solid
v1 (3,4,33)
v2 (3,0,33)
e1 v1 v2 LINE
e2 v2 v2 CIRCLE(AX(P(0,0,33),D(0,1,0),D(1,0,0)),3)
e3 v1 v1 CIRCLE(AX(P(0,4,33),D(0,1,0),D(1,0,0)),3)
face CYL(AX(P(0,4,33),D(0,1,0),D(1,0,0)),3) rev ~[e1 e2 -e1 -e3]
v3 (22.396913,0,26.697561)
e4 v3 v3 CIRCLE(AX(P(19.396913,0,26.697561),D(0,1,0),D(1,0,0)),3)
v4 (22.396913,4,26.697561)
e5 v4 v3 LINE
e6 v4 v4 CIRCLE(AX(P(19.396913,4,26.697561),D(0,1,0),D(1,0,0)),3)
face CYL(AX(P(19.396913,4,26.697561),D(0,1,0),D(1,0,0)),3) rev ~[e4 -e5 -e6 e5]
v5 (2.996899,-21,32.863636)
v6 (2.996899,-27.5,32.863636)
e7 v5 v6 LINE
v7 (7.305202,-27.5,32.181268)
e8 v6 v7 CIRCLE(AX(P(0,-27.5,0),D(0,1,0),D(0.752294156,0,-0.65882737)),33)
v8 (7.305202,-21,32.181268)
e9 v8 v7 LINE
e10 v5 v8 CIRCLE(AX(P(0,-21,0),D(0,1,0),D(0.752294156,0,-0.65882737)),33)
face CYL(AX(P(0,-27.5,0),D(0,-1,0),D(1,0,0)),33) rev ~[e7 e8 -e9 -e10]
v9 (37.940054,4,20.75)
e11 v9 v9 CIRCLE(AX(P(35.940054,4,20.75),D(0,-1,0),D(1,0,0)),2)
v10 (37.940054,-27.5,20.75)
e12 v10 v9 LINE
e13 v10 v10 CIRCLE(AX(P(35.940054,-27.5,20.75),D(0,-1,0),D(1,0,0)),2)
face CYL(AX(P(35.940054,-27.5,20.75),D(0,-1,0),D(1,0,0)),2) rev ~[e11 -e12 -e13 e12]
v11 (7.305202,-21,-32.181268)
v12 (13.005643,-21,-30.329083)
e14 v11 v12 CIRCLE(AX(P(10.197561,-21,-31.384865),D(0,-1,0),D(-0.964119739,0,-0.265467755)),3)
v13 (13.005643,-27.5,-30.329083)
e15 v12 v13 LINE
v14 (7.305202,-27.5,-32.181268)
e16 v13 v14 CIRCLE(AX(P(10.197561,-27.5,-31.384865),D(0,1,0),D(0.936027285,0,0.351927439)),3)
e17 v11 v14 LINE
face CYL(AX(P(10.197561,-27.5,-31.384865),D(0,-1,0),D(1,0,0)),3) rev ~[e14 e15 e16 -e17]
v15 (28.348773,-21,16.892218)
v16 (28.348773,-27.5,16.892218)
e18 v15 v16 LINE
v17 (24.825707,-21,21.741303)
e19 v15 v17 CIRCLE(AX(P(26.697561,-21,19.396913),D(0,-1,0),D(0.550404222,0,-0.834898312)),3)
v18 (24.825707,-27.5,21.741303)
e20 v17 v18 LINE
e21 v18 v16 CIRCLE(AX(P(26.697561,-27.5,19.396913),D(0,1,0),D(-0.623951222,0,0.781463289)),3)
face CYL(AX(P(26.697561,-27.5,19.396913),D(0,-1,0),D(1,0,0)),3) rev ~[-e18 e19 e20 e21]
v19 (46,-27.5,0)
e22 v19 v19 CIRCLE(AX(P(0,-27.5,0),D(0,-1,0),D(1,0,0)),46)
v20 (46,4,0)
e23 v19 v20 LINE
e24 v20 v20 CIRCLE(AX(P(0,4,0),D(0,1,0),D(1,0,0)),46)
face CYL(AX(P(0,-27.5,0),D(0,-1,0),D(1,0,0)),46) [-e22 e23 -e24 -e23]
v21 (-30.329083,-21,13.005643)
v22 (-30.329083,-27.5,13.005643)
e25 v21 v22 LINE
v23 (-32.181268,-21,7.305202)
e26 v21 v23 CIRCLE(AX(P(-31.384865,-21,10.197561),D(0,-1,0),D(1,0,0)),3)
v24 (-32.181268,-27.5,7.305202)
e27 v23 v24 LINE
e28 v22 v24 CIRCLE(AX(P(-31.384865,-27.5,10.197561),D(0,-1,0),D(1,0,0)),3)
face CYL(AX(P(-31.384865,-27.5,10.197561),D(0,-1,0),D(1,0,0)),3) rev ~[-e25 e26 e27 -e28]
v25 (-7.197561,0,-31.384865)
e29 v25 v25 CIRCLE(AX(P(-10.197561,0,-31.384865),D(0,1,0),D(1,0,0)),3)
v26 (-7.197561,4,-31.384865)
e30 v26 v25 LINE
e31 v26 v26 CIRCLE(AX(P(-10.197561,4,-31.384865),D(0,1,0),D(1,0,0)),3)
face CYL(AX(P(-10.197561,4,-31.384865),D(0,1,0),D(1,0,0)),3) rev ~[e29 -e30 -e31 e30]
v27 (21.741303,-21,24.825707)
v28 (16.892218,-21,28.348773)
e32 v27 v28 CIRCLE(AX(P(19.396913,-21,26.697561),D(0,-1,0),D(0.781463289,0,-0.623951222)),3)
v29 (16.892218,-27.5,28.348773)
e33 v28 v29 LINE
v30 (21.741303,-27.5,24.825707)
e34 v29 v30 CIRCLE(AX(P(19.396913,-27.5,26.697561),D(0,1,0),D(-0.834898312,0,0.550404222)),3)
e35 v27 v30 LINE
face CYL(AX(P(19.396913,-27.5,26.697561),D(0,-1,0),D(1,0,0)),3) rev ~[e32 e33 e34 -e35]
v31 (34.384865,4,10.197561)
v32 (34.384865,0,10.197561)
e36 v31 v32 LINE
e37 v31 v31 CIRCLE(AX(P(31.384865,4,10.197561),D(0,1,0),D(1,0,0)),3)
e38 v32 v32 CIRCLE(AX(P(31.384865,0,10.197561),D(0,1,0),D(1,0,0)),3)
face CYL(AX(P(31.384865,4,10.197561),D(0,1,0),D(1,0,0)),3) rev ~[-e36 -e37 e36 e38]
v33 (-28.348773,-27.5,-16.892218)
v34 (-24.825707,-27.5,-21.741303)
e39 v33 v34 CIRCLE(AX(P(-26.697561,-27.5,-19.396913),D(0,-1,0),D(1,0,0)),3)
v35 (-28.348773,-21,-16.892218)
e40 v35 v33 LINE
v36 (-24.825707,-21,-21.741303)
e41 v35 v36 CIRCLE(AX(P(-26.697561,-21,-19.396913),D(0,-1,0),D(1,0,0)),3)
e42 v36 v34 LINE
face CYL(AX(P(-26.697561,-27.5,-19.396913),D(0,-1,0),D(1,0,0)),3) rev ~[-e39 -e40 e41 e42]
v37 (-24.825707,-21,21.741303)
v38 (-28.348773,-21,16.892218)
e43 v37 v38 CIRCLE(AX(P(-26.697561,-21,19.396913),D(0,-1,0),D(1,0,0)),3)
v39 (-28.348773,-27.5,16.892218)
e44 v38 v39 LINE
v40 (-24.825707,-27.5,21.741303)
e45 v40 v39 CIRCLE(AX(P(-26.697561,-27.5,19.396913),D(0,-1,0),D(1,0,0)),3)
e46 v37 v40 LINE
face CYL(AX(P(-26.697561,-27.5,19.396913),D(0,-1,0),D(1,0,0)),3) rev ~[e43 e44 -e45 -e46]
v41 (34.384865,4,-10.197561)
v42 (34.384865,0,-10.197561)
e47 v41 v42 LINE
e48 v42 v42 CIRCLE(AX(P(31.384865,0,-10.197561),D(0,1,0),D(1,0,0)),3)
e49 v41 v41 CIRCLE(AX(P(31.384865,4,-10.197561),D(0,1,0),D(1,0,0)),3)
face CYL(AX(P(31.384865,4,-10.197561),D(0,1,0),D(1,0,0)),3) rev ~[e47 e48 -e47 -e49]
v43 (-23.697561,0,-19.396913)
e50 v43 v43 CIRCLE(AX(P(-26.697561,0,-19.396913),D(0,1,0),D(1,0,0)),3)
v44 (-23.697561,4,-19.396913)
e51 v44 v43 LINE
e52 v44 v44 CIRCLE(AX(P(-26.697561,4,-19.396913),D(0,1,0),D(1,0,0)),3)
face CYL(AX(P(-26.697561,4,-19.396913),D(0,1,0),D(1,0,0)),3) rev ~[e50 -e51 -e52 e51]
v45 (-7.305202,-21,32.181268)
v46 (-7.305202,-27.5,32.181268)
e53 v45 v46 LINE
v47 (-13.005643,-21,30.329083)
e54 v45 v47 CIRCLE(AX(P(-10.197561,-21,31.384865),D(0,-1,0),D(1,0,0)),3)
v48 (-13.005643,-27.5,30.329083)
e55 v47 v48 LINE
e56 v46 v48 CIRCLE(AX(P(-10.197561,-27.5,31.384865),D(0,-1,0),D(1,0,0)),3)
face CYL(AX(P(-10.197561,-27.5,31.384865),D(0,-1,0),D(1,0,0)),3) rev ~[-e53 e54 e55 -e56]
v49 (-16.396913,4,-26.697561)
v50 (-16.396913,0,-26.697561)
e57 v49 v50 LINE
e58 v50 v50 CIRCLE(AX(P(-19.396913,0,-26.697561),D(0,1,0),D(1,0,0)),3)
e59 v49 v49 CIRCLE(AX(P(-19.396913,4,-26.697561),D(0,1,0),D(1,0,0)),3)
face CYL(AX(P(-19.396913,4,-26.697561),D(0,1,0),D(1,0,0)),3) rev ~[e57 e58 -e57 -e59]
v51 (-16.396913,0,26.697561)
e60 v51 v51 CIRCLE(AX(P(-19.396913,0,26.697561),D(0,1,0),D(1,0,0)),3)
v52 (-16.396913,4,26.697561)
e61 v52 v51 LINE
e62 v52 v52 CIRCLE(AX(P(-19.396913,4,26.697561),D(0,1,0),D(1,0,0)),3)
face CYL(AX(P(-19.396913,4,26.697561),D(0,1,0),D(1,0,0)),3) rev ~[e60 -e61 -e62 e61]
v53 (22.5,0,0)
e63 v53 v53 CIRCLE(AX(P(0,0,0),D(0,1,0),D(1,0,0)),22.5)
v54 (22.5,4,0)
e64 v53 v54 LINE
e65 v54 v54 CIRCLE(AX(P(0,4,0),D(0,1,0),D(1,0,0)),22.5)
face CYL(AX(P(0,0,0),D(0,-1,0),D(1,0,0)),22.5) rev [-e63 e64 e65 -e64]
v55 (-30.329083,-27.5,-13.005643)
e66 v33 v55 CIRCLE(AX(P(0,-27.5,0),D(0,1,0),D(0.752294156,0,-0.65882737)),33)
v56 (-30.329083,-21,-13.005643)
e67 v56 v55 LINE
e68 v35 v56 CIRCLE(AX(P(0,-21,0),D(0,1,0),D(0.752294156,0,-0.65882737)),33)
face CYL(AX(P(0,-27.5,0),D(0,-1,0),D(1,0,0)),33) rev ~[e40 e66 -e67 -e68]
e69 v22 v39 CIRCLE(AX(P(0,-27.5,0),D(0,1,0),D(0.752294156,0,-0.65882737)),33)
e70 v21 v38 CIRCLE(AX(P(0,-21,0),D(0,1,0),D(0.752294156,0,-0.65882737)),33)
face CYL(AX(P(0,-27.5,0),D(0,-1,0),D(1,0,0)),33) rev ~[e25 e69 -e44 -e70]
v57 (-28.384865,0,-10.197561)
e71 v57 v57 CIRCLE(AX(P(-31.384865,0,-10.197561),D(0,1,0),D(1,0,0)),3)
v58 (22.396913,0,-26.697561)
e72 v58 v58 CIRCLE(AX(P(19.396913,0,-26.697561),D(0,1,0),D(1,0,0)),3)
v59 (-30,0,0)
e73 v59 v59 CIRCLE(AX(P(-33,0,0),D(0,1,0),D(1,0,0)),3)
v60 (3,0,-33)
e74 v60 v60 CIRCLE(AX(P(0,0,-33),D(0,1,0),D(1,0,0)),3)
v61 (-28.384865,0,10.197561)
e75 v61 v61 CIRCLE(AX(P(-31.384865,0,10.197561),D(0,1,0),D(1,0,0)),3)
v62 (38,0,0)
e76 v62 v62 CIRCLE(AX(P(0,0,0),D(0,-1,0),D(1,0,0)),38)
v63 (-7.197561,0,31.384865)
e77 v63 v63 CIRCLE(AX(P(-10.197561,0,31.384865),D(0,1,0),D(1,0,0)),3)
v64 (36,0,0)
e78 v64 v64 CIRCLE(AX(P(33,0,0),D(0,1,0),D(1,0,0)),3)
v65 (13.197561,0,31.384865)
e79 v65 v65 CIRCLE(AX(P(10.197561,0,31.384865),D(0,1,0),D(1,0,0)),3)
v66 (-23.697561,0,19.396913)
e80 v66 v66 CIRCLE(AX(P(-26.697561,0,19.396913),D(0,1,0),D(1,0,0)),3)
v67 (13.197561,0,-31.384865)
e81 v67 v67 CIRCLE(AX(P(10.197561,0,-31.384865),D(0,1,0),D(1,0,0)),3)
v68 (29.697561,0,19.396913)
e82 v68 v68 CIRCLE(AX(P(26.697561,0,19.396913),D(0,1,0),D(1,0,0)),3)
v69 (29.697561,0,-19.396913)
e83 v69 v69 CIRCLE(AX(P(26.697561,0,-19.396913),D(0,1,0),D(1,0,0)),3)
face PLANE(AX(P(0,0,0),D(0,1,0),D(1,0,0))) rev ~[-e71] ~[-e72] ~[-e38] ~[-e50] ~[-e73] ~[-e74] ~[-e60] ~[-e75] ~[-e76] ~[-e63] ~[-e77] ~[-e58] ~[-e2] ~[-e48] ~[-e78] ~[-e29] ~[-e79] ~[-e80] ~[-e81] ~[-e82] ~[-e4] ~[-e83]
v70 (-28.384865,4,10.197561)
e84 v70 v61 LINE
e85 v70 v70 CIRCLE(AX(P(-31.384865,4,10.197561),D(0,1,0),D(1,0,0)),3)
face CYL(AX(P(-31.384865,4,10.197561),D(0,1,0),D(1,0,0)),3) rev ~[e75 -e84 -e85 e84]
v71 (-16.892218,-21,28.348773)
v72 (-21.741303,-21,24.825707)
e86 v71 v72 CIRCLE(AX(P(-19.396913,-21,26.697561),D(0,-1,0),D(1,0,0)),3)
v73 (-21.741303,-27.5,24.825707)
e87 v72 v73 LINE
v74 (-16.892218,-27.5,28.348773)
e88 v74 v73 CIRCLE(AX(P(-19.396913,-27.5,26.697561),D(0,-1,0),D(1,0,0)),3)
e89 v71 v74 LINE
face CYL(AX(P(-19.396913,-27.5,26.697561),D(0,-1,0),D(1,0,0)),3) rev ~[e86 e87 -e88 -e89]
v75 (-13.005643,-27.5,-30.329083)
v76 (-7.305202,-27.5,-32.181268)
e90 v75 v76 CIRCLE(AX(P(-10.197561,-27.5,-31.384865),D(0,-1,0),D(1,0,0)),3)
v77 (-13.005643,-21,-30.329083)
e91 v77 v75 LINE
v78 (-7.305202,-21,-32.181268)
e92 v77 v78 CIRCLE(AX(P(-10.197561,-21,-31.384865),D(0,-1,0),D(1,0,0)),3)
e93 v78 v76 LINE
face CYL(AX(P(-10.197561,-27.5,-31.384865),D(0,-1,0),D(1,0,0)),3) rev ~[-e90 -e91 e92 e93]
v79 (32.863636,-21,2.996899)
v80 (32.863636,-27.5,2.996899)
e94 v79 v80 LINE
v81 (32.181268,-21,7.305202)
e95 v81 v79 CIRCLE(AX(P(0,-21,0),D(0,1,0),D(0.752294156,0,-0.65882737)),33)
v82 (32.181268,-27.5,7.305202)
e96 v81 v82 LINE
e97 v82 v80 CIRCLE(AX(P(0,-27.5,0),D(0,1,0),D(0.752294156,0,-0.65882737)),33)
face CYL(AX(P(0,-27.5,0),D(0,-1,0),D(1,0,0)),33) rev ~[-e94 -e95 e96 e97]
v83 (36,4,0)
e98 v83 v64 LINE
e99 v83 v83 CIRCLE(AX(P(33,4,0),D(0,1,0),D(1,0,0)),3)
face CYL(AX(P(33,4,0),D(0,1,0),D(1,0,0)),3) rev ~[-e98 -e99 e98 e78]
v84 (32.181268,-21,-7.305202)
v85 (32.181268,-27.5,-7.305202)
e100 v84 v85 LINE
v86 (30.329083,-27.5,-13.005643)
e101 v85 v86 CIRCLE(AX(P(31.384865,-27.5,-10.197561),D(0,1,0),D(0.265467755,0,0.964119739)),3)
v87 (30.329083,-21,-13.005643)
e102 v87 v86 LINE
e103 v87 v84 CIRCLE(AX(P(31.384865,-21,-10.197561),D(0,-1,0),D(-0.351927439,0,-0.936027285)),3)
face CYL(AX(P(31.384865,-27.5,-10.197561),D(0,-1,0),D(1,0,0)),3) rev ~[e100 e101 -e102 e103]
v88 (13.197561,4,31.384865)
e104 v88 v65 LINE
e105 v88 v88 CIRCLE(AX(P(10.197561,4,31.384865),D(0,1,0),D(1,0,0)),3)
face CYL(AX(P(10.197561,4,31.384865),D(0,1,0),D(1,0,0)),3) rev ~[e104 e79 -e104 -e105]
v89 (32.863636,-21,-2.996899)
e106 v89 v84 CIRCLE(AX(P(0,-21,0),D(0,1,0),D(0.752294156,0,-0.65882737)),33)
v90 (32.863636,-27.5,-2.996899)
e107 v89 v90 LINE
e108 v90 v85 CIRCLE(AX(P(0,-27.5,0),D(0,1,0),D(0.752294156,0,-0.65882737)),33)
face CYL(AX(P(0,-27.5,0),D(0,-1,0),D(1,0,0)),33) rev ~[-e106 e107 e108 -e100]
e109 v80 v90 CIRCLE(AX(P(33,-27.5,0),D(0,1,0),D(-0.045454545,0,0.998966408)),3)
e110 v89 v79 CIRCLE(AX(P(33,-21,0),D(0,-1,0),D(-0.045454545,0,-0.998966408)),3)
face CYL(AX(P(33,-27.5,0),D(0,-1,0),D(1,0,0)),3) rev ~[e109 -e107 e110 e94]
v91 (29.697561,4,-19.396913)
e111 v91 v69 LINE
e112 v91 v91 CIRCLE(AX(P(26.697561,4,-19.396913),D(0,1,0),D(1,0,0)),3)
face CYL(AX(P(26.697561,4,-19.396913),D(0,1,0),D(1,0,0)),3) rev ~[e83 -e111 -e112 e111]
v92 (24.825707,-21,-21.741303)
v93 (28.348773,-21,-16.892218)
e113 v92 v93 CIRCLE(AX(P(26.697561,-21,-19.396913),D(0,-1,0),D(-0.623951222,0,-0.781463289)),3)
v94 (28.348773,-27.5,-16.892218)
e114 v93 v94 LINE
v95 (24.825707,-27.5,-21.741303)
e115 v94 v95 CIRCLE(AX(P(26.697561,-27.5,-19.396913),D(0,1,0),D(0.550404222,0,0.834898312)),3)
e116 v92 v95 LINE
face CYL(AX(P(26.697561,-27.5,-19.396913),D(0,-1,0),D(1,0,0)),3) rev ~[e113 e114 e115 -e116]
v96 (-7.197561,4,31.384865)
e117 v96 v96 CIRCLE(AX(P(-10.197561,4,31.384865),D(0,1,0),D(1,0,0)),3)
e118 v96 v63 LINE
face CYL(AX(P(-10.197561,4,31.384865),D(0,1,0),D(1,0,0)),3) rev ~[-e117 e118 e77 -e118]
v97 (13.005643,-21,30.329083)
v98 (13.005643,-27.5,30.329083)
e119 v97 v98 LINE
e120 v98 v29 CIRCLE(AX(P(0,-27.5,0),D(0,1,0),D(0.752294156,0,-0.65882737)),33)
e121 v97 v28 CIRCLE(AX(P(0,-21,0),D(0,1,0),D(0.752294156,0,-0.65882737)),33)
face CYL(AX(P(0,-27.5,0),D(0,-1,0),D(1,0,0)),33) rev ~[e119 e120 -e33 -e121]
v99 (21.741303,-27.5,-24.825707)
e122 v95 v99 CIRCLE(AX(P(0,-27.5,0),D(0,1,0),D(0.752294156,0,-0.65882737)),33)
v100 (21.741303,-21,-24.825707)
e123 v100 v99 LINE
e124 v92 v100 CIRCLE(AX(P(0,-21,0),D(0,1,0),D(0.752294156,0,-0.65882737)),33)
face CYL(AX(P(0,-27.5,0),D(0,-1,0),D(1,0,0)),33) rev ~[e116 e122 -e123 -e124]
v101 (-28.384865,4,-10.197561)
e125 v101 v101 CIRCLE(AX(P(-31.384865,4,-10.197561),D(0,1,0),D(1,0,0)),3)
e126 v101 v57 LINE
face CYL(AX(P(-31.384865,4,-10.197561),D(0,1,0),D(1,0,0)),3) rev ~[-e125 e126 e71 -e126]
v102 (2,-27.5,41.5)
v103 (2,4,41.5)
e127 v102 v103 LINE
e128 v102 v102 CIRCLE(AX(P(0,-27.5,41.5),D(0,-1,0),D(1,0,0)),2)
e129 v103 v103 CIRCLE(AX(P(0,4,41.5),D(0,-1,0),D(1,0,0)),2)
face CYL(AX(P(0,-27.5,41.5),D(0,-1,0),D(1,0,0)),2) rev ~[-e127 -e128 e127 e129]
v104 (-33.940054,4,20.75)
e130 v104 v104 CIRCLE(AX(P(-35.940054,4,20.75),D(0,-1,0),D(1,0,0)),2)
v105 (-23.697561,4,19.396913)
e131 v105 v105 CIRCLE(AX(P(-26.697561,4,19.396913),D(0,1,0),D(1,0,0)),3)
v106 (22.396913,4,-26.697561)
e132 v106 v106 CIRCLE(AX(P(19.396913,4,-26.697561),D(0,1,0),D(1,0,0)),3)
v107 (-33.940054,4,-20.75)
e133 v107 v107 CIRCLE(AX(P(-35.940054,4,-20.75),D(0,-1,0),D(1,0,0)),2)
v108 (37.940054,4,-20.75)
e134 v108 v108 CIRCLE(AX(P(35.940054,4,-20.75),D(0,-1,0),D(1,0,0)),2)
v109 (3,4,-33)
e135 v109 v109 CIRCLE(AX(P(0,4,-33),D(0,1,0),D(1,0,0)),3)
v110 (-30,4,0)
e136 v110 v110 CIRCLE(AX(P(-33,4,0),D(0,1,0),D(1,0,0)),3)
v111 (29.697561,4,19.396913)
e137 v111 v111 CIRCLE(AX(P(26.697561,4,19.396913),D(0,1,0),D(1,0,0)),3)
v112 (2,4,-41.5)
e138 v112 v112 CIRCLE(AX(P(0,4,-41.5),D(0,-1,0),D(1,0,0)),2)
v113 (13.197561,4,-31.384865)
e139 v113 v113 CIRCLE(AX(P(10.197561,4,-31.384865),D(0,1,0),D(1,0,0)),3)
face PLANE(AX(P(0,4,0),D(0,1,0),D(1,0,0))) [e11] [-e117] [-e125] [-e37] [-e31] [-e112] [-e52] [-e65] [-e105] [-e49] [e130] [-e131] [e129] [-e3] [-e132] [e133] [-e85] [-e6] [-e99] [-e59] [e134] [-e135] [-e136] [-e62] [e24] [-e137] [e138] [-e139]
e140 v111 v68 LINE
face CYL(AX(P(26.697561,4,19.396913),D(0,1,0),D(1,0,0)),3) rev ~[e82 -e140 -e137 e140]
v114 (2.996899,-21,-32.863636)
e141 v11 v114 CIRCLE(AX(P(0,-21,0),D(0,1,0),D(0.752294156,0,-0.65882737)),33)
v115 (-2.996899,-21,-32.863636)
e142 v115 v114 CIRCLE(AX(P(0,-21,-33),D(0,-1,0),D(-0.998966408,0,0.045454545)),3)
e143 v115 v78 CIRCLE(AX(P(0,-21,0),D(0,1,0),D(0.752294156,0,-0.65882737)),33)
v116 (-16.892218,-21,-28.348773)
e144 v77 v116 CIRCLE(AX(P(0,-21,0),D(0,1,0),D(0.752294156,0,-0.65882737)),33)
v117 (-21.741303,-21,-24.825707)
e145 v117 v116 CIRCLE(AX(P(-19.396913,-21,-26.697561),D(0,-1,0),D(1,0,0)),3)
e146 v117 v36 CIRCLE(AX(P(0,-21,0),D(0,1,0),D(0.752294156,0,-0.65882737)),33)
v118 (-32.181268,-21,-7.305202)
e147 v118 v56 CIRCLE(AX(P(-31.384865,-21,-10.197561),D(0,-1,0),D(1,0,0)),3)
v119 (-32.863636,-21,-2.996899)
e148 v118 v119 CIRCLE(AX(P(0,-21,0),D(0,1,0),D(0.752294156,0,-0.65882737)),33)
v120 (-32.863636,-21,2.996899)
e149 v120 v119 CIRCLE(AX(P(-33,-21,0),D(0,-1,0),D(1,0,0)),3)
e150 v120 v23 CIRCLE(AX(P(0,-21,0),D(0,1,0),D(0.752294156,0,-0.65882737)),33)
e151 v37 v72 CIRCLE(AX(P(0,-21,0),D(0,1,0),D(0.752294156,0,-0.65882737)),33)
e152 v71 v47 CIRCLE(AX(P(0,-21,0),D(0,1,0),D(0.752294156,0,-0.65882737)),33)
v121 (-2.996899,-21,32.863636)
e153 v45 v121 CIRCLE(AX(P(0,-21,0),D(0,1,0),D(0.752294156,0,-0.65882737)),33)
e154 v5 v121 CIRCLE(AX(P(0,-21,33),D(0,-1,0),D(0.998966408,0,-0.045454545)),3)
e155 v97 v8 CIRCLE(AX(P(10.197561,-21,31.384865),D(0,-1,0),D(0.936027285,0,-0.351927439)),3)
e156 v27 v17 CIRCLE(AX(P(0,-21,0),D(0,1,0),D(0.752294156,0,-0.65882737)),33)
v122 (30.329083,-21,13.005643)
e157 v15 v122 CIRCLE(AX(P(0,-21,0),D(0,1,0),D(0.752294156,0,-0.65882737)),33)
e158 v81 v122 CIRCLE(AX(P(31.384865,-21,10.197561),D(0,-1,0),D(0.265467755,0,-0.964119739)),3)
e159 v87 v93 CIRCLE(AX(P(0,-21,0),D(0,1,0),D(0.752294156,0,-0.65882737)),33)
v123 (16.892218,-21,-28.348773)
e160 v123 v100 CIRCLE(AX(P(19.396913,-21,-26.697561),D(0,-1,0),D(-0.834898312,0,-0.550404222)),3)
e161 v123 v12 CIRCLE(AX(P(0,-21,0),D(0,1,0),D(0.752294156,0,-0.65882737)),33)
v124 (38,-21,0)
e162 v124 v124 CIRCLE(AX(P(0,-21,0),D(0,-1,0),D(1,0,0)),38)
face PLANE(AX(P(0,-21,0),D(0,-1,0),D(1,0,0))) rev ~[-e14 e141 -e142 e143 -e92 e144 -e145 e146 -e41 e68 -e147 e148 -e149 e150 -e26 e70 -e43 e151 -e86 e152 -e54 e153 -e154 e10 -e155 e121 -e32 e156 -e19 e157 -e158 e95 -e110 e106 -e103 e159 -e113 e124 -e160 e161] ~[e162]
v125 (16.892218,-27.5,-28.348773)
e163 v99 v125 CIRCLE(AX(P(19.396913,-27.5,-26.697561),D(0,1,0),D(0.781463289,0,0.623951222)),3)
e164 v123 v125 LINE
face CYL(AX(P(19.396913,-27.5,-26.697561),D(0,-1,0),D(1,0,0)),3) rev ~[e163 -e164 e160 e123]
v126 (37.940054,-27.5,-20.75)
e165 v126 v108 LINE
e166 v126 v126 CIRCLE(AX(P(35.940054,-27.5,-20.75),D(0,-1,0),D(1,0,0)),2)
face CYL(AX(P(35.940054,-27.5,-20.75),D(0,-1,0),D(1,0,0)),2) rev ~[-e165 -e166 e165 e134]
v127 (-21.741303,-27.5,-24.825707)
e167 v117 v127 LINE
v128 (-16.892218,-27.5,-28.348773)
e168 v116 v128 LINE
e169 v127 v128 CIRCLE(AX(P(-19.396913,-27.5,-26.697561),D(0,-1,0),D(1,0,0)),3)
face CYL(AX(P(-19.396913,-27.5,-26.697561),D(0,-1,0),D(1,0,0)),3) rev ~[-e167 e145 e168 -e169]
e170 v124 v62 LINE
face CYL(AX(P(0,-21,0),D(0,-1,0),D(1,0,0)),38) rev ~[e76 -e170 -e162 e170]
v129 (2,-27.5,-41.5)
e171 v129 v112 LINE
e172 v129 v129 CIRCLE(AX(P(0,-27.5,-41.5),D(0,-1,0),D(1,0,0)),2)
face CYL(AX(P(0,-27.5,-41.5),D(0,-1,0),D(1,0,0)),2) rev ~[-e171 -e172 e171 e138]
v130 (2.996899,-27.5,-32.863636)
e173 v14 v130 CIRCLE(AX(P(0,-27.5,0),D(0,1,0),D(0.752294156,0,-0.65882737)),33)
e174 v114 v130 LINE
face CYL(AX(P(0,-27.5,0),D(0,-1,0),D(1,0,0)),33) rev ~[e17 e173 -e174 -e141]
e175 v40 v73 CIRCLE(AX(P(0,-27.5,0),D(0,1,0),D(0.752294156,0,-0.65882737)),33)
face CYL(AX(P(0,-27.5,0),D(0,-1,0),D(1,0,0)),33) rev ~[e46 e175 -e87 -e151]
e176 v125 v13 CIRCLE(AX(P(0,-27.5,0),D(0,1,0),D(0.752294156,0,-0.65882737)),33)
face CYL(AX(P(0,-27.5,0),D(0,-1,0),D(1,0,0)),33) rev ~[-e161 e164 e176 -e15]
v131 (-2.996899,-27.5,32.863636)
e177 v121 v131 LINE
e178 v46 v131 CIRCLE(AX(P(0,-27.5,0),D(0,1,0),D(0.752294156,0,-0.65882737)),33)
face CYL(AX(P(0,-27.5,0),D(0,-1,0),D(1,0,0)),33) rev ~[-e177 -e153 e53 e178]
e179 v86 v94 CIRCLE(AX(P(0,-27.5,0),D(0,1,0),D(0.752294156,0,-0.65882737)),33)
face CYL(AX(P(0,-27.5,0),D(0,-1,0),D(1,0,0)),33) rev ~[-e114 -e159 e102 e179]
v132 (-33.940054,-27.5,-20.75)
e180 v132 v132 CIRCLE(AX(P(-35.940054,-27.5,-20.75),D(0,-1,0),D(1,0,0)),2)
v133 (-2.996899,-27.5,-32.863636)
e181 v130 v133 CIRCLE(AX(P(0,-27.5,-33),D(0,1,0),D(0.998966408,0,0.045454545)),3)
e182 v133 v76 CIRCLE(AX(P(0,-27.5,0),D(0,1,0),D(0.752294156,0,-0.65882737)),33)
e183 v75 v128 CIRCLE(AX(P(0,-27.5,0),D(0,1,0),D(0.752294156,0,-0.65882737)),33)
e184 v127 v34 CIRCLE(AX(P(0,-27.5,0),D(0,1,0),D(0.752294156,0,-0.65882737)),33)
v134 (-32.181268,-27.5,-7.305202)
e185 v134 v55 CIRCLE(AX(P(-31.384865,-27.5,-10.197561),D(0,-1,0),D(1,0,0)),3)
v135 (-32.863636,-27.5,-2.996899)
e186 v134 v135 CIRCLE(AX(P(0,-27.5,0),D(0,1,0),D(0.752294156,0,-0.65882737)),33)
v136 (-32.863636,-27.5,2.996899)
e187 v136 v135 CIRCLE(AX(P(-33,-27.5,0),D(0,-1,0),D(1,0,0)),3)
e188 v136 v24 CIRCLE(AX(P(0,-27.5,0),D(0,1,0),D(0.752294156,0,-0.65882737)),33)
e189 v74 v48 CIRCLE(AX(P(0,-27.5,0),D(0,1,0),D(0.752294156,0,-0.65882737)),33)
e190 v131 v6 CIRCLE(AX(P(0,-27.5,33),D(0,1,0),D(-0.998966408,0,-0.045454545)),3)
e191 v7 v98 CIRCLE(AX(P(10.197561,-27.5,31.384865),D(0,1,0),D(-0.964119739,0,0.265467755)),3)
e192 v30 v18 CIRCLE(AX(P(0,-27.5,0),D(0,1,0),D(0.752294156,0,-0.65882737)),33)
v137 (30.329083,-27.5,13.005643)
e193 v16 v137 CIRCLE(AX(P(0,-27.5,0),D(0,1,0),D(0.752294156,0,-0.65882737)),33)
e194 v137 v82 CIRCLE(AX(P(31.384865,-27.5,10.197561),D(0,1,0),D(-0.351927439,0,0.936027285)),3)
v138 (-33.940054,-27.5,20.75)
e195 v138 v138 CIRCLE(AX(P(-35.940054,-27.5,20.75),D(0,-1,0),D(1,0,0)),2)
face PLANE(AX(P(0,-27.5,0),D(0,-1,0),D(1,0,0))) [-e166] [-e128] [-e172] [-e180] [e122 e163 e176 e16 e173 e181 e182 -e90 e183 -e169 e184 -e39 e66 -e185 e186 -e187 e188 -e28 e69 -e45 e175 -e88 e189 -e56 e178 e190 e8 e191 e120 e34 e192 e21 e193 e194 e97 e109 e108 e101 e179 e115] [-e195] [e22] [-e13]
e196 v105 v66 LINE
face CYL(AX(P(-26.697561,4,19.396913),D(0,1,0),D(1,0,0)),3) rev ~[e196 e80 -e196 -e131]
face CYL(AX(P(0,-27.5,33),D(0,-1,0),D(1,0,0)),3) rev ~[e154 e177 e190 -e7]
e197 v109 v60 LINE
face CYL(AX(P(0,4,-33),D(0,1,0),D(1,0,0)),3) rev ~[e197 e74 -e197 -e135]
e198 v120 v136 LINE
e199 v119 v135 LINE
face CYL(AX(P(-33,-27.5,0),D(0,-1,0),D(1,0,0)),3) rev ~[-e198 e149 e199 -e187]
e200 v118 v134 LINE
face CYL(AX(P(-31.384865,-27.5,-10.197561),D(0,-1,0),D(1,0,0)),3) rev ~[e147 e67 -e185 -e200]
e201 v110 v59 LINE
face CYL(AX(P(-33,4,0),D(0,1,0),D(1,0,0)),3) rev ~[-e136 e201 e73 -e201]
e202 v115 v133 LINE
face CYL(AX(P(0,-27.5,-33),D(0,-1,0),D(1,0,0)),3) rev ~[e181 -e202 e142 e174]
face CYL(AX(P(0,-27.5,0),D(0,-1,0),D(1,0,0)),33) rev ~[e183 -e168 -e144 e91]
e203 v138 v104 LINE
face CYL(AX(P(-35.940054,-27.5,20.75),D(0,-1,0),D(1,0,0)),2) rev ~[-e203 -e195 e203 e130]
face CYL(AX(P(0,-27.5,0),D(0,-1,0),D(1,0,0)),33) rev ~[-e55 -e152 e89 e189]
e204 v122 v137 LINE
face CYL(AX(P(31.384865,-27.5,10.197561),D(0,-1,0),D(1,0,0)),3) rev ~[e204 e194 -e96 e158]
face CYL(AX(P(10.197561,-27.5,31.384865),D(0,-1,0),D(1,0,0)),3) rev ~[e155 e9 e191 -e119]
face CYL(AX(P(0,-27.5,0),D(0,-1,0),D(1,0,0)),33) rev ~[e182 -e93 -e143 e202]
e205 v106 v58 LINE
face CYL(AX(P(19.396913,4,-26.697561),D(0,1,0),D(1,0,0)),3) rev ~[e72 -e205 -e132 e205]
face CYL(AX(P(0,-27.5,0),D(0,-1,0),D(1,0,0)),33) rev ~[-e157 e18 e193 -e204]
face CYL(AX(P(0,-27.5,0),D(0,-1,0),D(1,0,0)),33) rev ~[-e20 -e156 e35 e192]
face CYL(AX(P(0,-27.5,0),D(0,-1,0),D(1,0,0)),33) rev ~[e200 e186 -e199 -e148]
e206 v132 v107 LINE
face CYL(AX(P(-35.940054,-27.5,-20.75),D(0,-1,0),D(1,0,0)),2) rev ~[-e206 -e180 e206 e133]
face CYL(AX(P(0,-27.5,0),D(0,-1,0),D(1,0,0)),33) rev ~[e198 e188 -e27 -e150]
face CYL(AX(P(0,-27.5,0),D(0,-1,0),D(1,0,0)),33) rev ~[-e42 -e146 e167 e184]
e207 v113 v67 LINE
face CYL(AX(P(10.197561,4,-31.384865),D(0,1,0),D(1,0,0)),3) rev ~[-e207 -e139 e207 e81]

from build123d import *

# Parameters (mm, degrees)
SKETCH1_R           = 46
SKETCH1_R_2         = 22.5
BOSS_EXTRUDE1_DEPTH = 4
CUT_EXTRUDE1_REACH  = 67.177
SKETCH2_R           = 3
BOSS_EXTRUDE2_START = 21
SKETCH3_R           = 46
SKETCH3_R_2         = 38
BOSS_EXTRUDE2_DEPTH = 21
BOSS_EXTRUDE3_START = 6.5
SKETCH4_R           = 46
SKETCH4_R_2         = 33
BOSS_EXTRUDE3_DEPTH = 6.5
CUT_EXTRUDE2_REACH  = 74.279
SKETCH5_R           = 3
SKETCH6_R           = 2
CUT_EXTRUDE3_DEPTH  = 73.278973429


with BuildPart() as part:
    # Sketch1 → Boss-Extrude1 (new body)
    with BuildSketch(Plane(origin=(0, 0, 0), x_dir=(1, 0, 0), z_dir=(0, 1, 0))):
        Circle(SKETCH1_R)
        Circle(SKETCH1_R_2, mode=Mode.SUBTRACT)
    extrude(amount=BOSS_EXTRUDE1_DEPTH)

    # Sketch2 → Cut-Extrude1 (cut, up to next)
    with BuildSketch(Plane(origin=(0, 4, 0), x_dir=(1, 0, 0), z_dir=(0, 1, 0)), mode=Mode.PRIVATE) as cut_extrude1_sk1:
        with Locations((33, 0)):
            Circle(SKETCH2_R)
    cut_extrude1_tool1 = extrude(cut_extrude1_sk1.sketch, amount=-CUT_EXTRUDE1_REACH, mode=Mode.PRIVATE) & part.part
    # Sketch2 → Cut-Extrude1 (cut, up to next)
    with BuildSketch(Plane(origin=(0, 4, 0), x_dir=(1, 0, 0), z_dir=(0, 1, 0)), mode=Mode.PRIVATE) as cut_extrude1_sk2:
        with Locations((31.384865038, -10.197560814)):
            Circle(SKETCH2_R)
    cut_extrude1_tool2 = extrude(cut_extrude1_sk2.sketch, amount=-CUT_EXTRUDE1_REACH, mode=Mode.PRIVATE) & part.part
    # Sketch2 → Cut-Extrude1 (cut, up to next)
    with BuildSketch(Plane(origin=(0, 4, 0), x_dir=(1, 0, 0), z_dir=(0, 1, 0)), mode=Mode.PRIVATE) as cut_extrude1_sk3:
        with Locations((26.697560814, -19.396913326)):
            Circle(SKETCH2_R)
    cut_extrude1_tool3 = extrude(cut_extrude1_sk3.sketch, amount=-CUT_EXTRUDE1_REACH, mode=Mode.PRIVATE) & part.part
    # Sketch2 → Cut-Extrude1 (cut, up to next)
    with BuildSketch(Plane(origin=(0, 4, 0), x_dir=(1, 0, 0), z_dir=(0, 1, 0)), mode=Mode.PRIVATE) as cut_extrude1_sk4:
        with Locations((19.396913326, -26.697560814)):
            Circle(SKETCH2_R)
    cut_extrude1_tool4 = extrude(cut_extrude1_sk4.sketch, amount=-CUT_EXTRUDE1_REACH, mode=Mode.PRIVATE) & part.part
    # Sketch2 → Cut-Extrude1 (cut, up to next)
    with BuildSketch(Plane(origin=(0, 4, 0), x_dir=(1, 0, 0), z_dir=(0, 1, 0)), mode=Mode.PRIVATE) as cut_extrude1_sk5:
        with Locations((10.197560814, -31.384865038)):
            Circle(SKETCH2_R)
    cut_extrude1_tool5 = extrude(cut_extrude1_sk5.sketch, amount=-CUT_EXTRUDE1_REACH, mode=Mode.PRIVATE) & part.part
    # Sketch2 → Cut-Extrude1 (cut, up to next)
    with BuildSketch(Plane(origin=(0, 4, 0), x_dir=(1, 0, 0), z_dir=(0, 1, 0)), mode=Mode.PRIVATE) as cut_extrude1_sk6:
        with Locations((0, -33)):
            Circle(SKETCH2_R)
    cut_extrude1_tool6 = extrude(cut_extrude1_sk6.sketch, amount=-CUT_EXTRUDE1_REACH, mode=Mode.PRIVATE) & part.part
    # Sketch2 → Cut-Extrude1 (cut, up to next)
    with BuildSketch(Plane(origin=(0, 4, 0), x_dir=(1, 0, 0), z_dir=(0, 1, 0)), mode=Mode.PRIVATE) as cut_extrude1_sk7:
        with Locations((-10.197560814, -31.384865038)):
            Circle(SKETCH2_R)
    cut_extrude1_tool7 = extrude(cut_extrude1_sk7.sketch, amount=-CUT_EXTRUDE1_REACH, mode=Mode.PRIVATE) & part.part
    # Sketch2 → Cut-Extrude1 (cut, up to next)
    with BuildSketch(Plane(origin=(0, 4, 0), x_dir=(1, 0, 0), z_dir=(0, 1, 0)), mode=Mode.PRIVATE) as cut_extrude1_sk8:
        with Locations((-19.396913326, -26.697560814)):
            Circle(SKETCH2_R)
    cut_extrude1_tool8 = extrude(cut_extrude1_sk8.sketch, amount=-CUT_EXTRUDE1_REACH, mode=Mode.PRIVATE) & part.part
    # Sketch2 → Cut-Extrude1 (cut, up to next)
    with BuildSketch(Plane(origin=(0, 4, 0), x_dir=(1, 0, 0), z_dir=(0, 1, 0)), mode=Mode.PRIVATE) as cut_extrude1_sk9:
        with Locations((-26.697560814, -19.396913326)):
            Circle(SKETCH2_R)
    cut_extrude1_tool9 = extrude(cut_extrude1_sk9.sketch, amount=-CUT_EXTRUDE1_REACH, mode=Mode.PRIVATE) & part.part
    # Sketch2 → Cut-Extrude1 (cut, up to next)
    with BuildSketch(Plane(origin=(0, 4, 0), x_dir=(1, 0, 0), z_dir=(0, 1, 0)), mode=Mode.PRIVATE) as cut_extrude1_sk10:
        with Locations((-31.384865038, -10.197560814)):
            Circle(SKETCH2_R)
    cut_extrude1_tool10 = extrude(cut_extrude1_sk10.sketch, amount=-CUT_EXTRUDE1_REACH, mode=Mode.PRIVATE) & part.part
    # Sketch2 → Cut-Extrude1 (cut, up to next)
    with BuildSketch(Plane(origin=(0, 4, 0), x_dir=(1, 0, 0), z_dir=(0, 1, 0)), mode=Mode.PRIVATE) as cut_extrude1_sk11:
        with Locations((-33, 0)):
            Circle(SKETCH2_R)
    cut_extrude1_tool11 = extrude(cut_extrude1_sk11.sketch, amount=-CUT_EXTRUDE1_REACH, mode=Mode.PRIVATE) & part.part
    # Sketch2 → Cut-Extrude1 (cut, up to next)
    with BuildSketch(Plane(origin=(0, 4, 0), x_dir=(1, 0, 0), z_dir=(0, 1, 0)), mode=Mode.PRIVATE) as cut_extrude1_sk12:
        with Locations((-31.384865038, 10.197560814)):
            Circle(SKETCH2_R)
    cut_extrude1_tool12 = extrude(cut_extrude1_sk12.sketch, amount=-CUT_EXTRUDE1_REACH, mode=Mode.PRIVATE) & part.part
    # Sketch2 → Cut-Extrude1 (cut, up to next)
    with BuildSketch(Plane(origin=(0, 4, 0), x_dir=(1, 0, 0), z_dir=(0, 1, 0)), mode=Mode.PRIVATE) as cut_extrude1_sk13:
        with Locations((-26.697560814, 19.396913326)):
            Circle(SKETCH2_R)
    cut_extrude1_tool13 = extrude(cut_extrude1_sk13.sketch, amount=-CUT_EXTRUDE1_REACH, mode=Mode.PRIVATE) & part.part
    # Sketch2 → Cut-Extrude1 (cut, up to next)
    with BuildSketch(Plane(origin=(0, 4, 0), x_dir=(1, 0, 0), z_dir=(0, 1, 0)), mode=Mode.PRIVATE) as cut_extrude1_sk14:
        with Locations((-19.396913326, 26.697560814)):
            Circle(SKETCH2_R)
    cut_extrude1_tool14 = extrude(cut_extrude1_sk14.sketch, amount=-CUT_EXTRUDE1_REACH, mode=Mode.PRIVATE) & part.part
    # Sketch2 → Cut-Extrude1 (cut, up to next)
    with BuildSketch(Plane(origin=(0, 4, 0), x_dir=(1, 0, 0), z_dir=(0, 1, 0)), mode=Mode.PRIVATE) as cut_extrude1_sk15:
        with Locations((-10.197560814, 31.384865038)):
            Circle(SKETCH2_R)
    cut_extrude1_tool15 = extrude(cut_extrude1_sk15.sketch, amount=-CUT_EXTRUDE1_REACH, mode=Mode.PRIVATE) & part.part
    # Sketch2 → Cut-Extrude1 (cut, up to next)
    with BuildSketch(Plane(origin=(0, 4, 0), x_dir=(1, 0, 0), z_dir=(0, 1, 0)), mode=Mode.PRIVATE) as cut_extrude1_sk16:
        with Locations((0, 33)):
            Circle(SKETCH2_R)
    cut_extrude1_tool16 = extrude(cut_extrude1_sk16.sketch, amount=-CUT_EXTRUDE1_REACH, mode=Mode.PRIVATE) & part.part
    # Sketch2 → Cut-Extrude1 (cut, up to next)
    with BuildSketch(Plane(origin=(0, 4, 0), x_dir=(1, 0, 0), z_dir=(0, 1, 0)), mode=Mode.PRIVATE) as cut_extrude1_sk17:
        with Locations((10.197560814, 31.384865038)):
            Circle(SKETCH2_R)
    cut_extrude1_tool17 = extrude(cut_extrude1_sk17.sketch, amount=-CUT_EXTRUDE1_REACH, mode=Mode.PRIVATE) & part.part
    # Sketch2 → Cut-Extrude1 (cut, up to next)
    with BuildSketch(Plane(origin=(0, 4, 0), x_dir=(1, 0, 0), z_dir=(0, 1, 0)), mode=Mode.PRIVATE) as cut_extrude1_sk18:
        with Locations((19.396913326, 26.697560814)):
            Circle(SKETCH2_R)
    cut_extrude1_tool18 = extrude(cut_extrude1_sk18.sketch, amount=-CUT_EXTRUDE1_REACH, mode=Mode.PRIVATE) & part.part
    # Sketch2 → Cut-Extrude1 (cut, up to next)
    with BuildSketch(Plane(origin=(0, 4, 0), x_dir=(1, 0, 0), z_dir=(0, 1, 0)), mode=Mode.PRIVATE) as cut_extrude1_sk19:
        with Locations((26.697560814, 19.396913326)):
            Circle(SKETCH2_R)
    cut_extrude1_tool19 = extrude(cut_extrude1_sk19.sketch, amount=-CUT_EXTRUDE1_REACH, mode=Mode.PRIVATE) & part.part
    # Sketch2 → Cut-Extrude1 (cut, up to next)
    with BuildSketch(Plane(origin=(0, 4, 0), x_dir=(1, 0, 0), z_dir=(0, 1, 0)), mode=Mode.PRIVATE) as cut_extrude1_sk20:
        with Locations((31.384865038, 10.197560814)):
            Circle(SKETCH2_R)
    cut_extrude1_tool20 = extrude(cut_extrude1_sk20.sketch, amount=-CUT_EXTRUDE1_REACH, mode=Mode.PRIVATE) & part.part
    add(cut_extrude1_tool1.solids().sort_by_distance((33, 4, 0))[0], mode=Mode.SUBTRACT)
    add(cut_extrude1_tool2.solids().sort_by_distance((31.384865, 4, 10.197561))[0], mode=Mode.SUBTRACT)
    add(cut_extrude1_tool3.solids().sort_by_distance((26.697561, 4, 19.396913))[0], mode=Mode.SUBTRACT)
    add(cut_extrude1_tool4.solids().sort_by_distance((19.396913, 4, 26.697561))[0], mode=Mode.SUBTRACT)
    add(cut_extrude1_tool5.solids().sort_by_distance((10.197561, 4, 31.384865))[0], mode=Mode.SUBTRACT)
    add(cut_extrude1_tool6.solids().sort_by_distance((0, 4, 33))[0], mode=Mode.SUBTRACT)
    add(cut_extrude1_tool7.solids().sort_by_distance((-10.197561, 4, 31.384865))[0], mode=Mode.SUBTRACT)
    add(cut_extrude1_tool8.solids().sort_by_distance((-19.396913, 4, 26.697561))[0], mode=Mode.SUBTRACT)
    add(cut_extrude1_tool9.solids().sort_by_distance((-26.697561, 4, 19.396913))[0], mode=Mode.SUBTRACT)
    add(cut_extrude1_tool10.solids().sort_by_distance((-31.384865, 4, 10.197561))[0], mode=Mode.SUBTRACT)
    add(cut_extrude1_tool11.solids().sort_by_distance((-33, 4, 0))[0], mode=Mode.SUBTRACT)
    add(cut_extrude1_tool12.solids().sort_by_distance((-31.384865, 4, -10.197561))[0], mode=Mode.SUBTRACT)
    add(cut_extrude1_tool13.solids().sort_by_distance((-26.697561, 4, -19.396913))[0], mode=Mode.SUBTRACT)
    add(cut_extrude1_tool14.solids().sort_by_distance((-19.396913, 4, -26.697561))[0], mode=Mode.SUBTRACT)
    add(cut_extrude1_tool15.solids().sort_by_distance((-10.197561, 4, -31.384865))[0], mode=Mode.SUBTRACT)
    add(cut_extrude1_tool16.solids().sort_by_distance((0, 4, -33))[0], mode=Mode.SUBTRACT)
    add(cut_extrude1_tool17.solids().sort_by_distance((10.197561, 4, -31.384865))[0], mode=Mode.SUBTRACT)
    add(cut_extrude1_tool18.solids().sort_by_distance((19.396913, 4, -26.697561))[0], mode=Mode.SUBTRACT)
    add(cut_extrude1_tool19.solids().sort_by_distance((26.697561, 4, -19.396913))[0], mode=Mode.SUBTRACT)
    add(cut_extrude1_tool20.solids().sort_by_distance((31.384865, 4, -10.197561))[0], mode=Mode.SUBTRACT)

    # Sketch3 → Boss-Extrude2 (add)
    with BuildSketch(Plane.XZ.offset(BOSS_EXTRUDE2_START)):
        Circle(SKETCH3_R)
        Circle(SKETCH3_R_2, mode=Mode.SUBTRACT)
    extrude(amount=-BOSS_EXTRUDE2_DEPTH)

    # Sketch4 → Boss-Extrude3 (add)
    with BuildSketch(Plane.XZ.offset(21).offset(BOSS_EXTRUDE3_START)):
        Circle(SKETCH4_R)
        Circle(SKETCH4_R_2, mode=Mode.SUBTRACT)
    extrude(amount=-BOSS_EXTRUDE3_DEPTH)

    # Sketch5 → Cut-Extrude2 (cut, up to next)
    with BuildSketch(Plane.XZ.offset(27.5), mode=Mode.PRIVATE) as cut_extrude2_sk1:
        with Locations((26.697560814, -19.396913326)):
            Circle(SKETCH5_R)
    cut_extrude2_tool1 = extrude(cut_extrude2_sk1.sketch, amount=-CUT_EXTRUDE2_REACH, mode=Mode.PRIVATE) & part.part
    # Sketch5 → Cut-Extrude2 (cut, up to next)
    with BuildSketch(Plane.XZ.offset(27.5), mode=Mode.PRIVATE) as cut_extrude2_sk2:
        with Locations((19.396913326, -26.697560814)):
            Circle(SKETCH5_R)
    cut_extrude2_tool2 = extrude(cut_extrude2_sk2.sketch, amount=-CUT_EXTRUDE2_REACH, mode=Mode.PRIVATE) & part.part
    # Sketch5 → Cut-Extrude2 (cut, up to next)
    with BuildSketch(Plane.XZ.offset(27.5), mode=Mode.PRIVATE) as cut_extrude2_sk3:
        with Locations((10.197560814, -31.384865038)):
            Circle(SKETCH5_R)
    cut_extrude2_tool3 = extrude(cut_extrude2_sk3.sketch, amount=-CUT_EXTRUDE2_REACH, mode=Mode.PRIVATE) & part.part
    # Sketch5 → Cut-Extrude2 (cut, up to next)
    with BuildSketch(Plane.XZ.offset(27.5), mode=Mode.PRIVATE) as cut_extrude2_sk4:
        with Locations((0, -33)):
            Circle(SKETCH5_R)
    cut_extrude2_tool4 = extrude(cut_extrude2_sk4.sketch, amount=-CUT_EXTRUDE2_REACH, mode=Mode.PRIVATE) & part.part
    # Sketch5 → Cut-Extrude2 (cut, up to next)
    with BuildSketch(Plane.XZ.offset(27.5), mode=Mode.PRIVATE) as cut_extrude2_sk5:
        with Locations((-10.197560814, -31.384865038)):
            Circle(SKETCH5_R)
    cut_extrude2_tool5 = extrude(cut_extrude2_sk5.sketch, amount=-CUT_EXTRUDE2_REACH, mode=Mode.PRIVATE) & part.part
    # Sketch5 → Cut-Extrude2 (cut, up to next)
    with BuildSketch(Plane.XZ.offset(27.5), mode=Mode.PRIVATE) as cut_extrude2_sk6:
        with Locations((-19.396913326, -26.697560814)):
            Circle(SKETCH5_R)
    cut_extrude2_tool6 = extrude(cut_extrude2_sk6.sketch, amount=-CUT_EXTRUDE2_REACH, mode=Mode.PRIVATE) & part.part
    # Sketch5 → Cut-Extrude2 (cut, up to next)
    with BuildSketch(Plane.XZ.offset(27.5), mode=Mode.PRIVATE) as cut_extrude2_sk7:
        with Locations((-26.697560814, -19.396913326)):
            Circle(SKETCH5_R)
    cut_extrude2_tool7 = extrude(cut_extrude2_sk7.sketch, amount=-CUT_EXTRUDE2_REACH, mode=Mode.PRIVATE) & part.part
    # Sketch5 → Cut-Extrude2 (cut, up to next)
    with BuildSketch(Plane.XZ.offset(27.5), mode=Mode.PRIVATE) as cut_extrude2_sk8:
        with Locations((-31.384865038, -10.197560814)):
            Circle(SKETCH5_R)
    cut_extrude2_tool8 = extrude(cut_extrude2_sk8.sketch, amount=-CUT_EXTRUDE2_REACH, mode=Mode.PRIVATE) & part.part
    # Sketch5 → Cut-Extrude2 (cut, up to next)
    with BuildSketch(Plane.XZ.offset(27.5), mode=Mode.PRIVATE) as cut_extrude2_sk9:
        with Locations((-33, 0)):
            Circle(SKETCH5_R)
    cut_extrude2_tool9 = extrude(cut_extrude2_sk9.sketch, amount=-CUT_EXTRUDE2_REACH, mode=Mode.PRIVATE) & part.part
    # Sketch5 → Cut-Extrude2 (cut, up to next)
    with BuildSketch(Plane.XZ.offset(27.5), mode=Mode.PRIVATE) as cut_extrude2_sk10:
        with Locations((-31.384865038, 10.197560814)):
            Circle(SKETCH5_R)
    cut_extrude2_tool10 = extrude(cut_extrude2_sk10.sketch, amount=-CUT_EXTRUDE2_REACH, mode=Mode.PRIVATE) & part.part
    # Sketch5 → Cut-Extrude2 (cut, up to next)
    with BuildSketch(Plane.XZ.offset(27.5), mode=Mode.PRIVATE) as cut_extrude2_sk11:
        with Locations((-26.697560814, 19.396913326)):
            Circle(SKETCH5_R)
    cut_extrude2_tool11 = extrude(cut_extrude2_sk11.sketch, amount=-CUT_EXTRUDE2_REACH, mode=Mode.PRIVATE) & part.part
    # Sketch5 → Cut-Extrude2 (cut, up to next)
    with BuildSketch(Plane.XZ.offset(27.5), mode=Mode.PRIVATE) as cut_extrude2_sk12:
        with Locations((-19.396913326, 26.697560814)):
            Circle(SKETCH5_R)
    cut_extrude2_tool12 = extrude(cut_extrude2_sk12.sketch, amount=-CUT_EXTRUDE2_REACH, mode=Mode.PRIVATE) & part.part
    # Sketch5 → Cut-Extrude2 (cut, up to next)
    with BuildSketch(Plane.XZ.offset(27.5), mode=Mode.PRIVATE) as cut_extrude2_sk13:
        with Locations((-10.197560814, 31.384865038)):
            Circle(SKETCH5_R)
    cut_extrude2_tool13 = extrude(cut_extrude2_sk13.sketch, amount=-CUT_EXTRUDE2_REACH, mode=Mode.PRIVATE) & part.part
    # Sketch5 → Cut-Extrude2 (cut, up to next)
    with BuildSketch(Plane.XZ.offset(27.5), mode=Mode.PRIVATE) as cut_extrude2_sk14:
        with Locations((0, 33)):
            Circle(SKETCH5_R)
    cut_extrude2_tool14 = extrude(cut_extrude2_sk14.sketch, amount=-CUT_EXTRUDE2_REACH, mode=Mode.PRIVATE) & part.part
    # Sketch5 → Cut-Extrude2 (cut, up to next)
    with BuildSketch(Plane.XZ.offset(27.5), mode=Mode.PRIVATE) as cut_extrude2_sk15:
        with Locations((10.197560814, 31.384865038)):
            Circle(SKETCH5_R)
    cut_extrude2_tool15 = extrude(cut_extrude2_sk15.sketch, amount=-CUT_EXTRUDE2_REACH, mode=Mode.PRIVATE) & part.part
    # Sketch5 → Cut-Extrude2 (cut, up to next)
    with BuildSketch(Plane.XZ.offset(27.5), mode=Mode.PRIVATE) as cut_extrude2_sk16:
        with Locations((19.396913326, 26.697560814)):
            Circle(SKETCH5_R)
    cut_extrude2_tool16 = extrude(cut_extrude2_sk16.sketch, amount=-CUT_EXTRUDE2_REACH, mode=Mode.PRIVATE) & part.part
    # Sketch5 → Cut-Extrude2 (cut, up to next)
    with BuildSketch(Plane.XZ.offset(27.5), mode=Mode.PRIVATE) as cut_extrude2_sk17:
        with Locations((26.697560814, 19.396913326)):
            Circle(SKETCH5_R)
    cut_extrude2_tool17 = extrude(cut_extrude2_sk17.sketch, amount=-CUT_EXTRUDE2_REACH, mode=Mode.PRIVATE) & part.part
    # Sketch5 → Cut-Extrude2 (cut, up to next)
    with BuildSketch(Plane.XZ.offset(27.5), mode=Mode.PRIVATE) as cut_extrude2_sk18:
        with Locations((31.384865038, 10.197560814)):
            Circle(SKETCH5_R)
    cut_extrude2_tool18 = extrude(cut_extrude2_sk18.sketch, amount=-CUT_EXTRUDE2_REACH, mode=Mode.PRIVATE) & part.part
    # Sketch5 → Cut-Extrude2 (cut, up to next)
    with BuildSketch(Plane.XZ.offset(27.5), mode=Mode.PRIVATE) as cut_extrude2_sk19:
        with Locations((33, 0)):
            Circle(SKETCH5_R)
    cut_extrude2_tool19 = extrude(cut_extrude2_sk19.sketch, amount=-CUT_EXTRUDE2_REACH, mode=Mode.PRIVATE) & part.part
    # Sketch5 → Cut-Extrude2 (cut, up to next)
    with BuildSketch(Plane.XZ.offset(27.5), mode=Mode.PRIVATE) as cut_extrude2_sk20:
        with Locations((31.384865038, -10.197560814)):
            Circle(SKETCH5_R)
    cut_extrude2_tool20 = extrude(cut_extrude2_sk20.sketch, amount=-CUT_EXTRUDE2_REACH, mode=Mode.PRIVATE) & part.part
    add(cut_extrude2_tool1.solids().sort_by_distance((26.697561, -27.5, -19.396913))[0], mode=Mode.SUBTRACT)
    add(cut_extrude2_tool2.solids().sort_by_distance((19.396913, -27.5, -26.697561))[0], mode=Mode.SUBTRACT)
    add(cut_extrude2_tool3.solids().sort_by_distance((10.197561, -27.5, -31.384865))[0], mode=Mode.SUBTRACT)
    add(cut_extrude2_tool4.solids().sort_by_distance((0, -27.5, -33))[0], mode=Mode.SUBTRACT)
    add(cut_extrude2_tool5.solids().sort_by_distance((-10.197561, -27.5, -31.384865))[0], mode=Mode.SUBTRACT)
    add(cut_extrude2_tool6.solids().sort_by_distance((-19.396913, -27.5, -26.697561))[0], mode=Mode.SUBTRACT)
    add(cut_extrude2_tool7.solids().sort_by_distance((-26.697561, -27.5, -19.396913))[0], mode=Mode.SUBTRACT)
    add(cut_extrude2_tool8.solids().sort_by_distance((-31.384865, -27.5, -10.197561))[0], mode=Mode.SUBTRACT)
    add(cut_extrude2_tool9.solids().sort_by_distance((-33, -27.5, 0))[0], mode=Mode.SUBTRACT)
    add(cut_extrude2_tool10.solids().sort_by_distance((-31.384865, -27.5, 10.197561))[0], mode=Mode.SUBTRACT)
    add(cut_extrude2_tool11.solids().sort_by_distance((-26.697561, -27.5, 19.396913))[0], mode=Mode.SUBTRACT)
    add(cut_extrude2_tool12.solids().sort_by_distance((-19.396913, -27.5, 26.697561))[0], mode=Mode.SUBTRACT)
    add(cut_extrude2_tool13.solids().sort_by_distance((-10.197561, -27.5, 31.384865))[0], mode=Mode.SUBTRACT)
    add(cut_extrude2_tool14.solids().sort_by_distance((0, -27.5, 33))[0], mode=Mode.SUBTRACT)
    add(cut_extrude2_tool15.solids().sort_by_distance((10.197561, -27.5, 31.384865))[0], mode=Mode.SUBTRACT)
    add(cut_extrude2_tool16.solids().sort_by_distance((19.396913, -27.5, 26.697561))[0], mode=Mode.SUBTRACT)
    add(cut_extrude2_tool17.solids().sort_by_distance((26.697561, -27.5, 19.396913))[0], mode=Mode.SUBTRACT)
    add(cut_extrude2_tool18.solids().sort_by_distance((31.384865, -27.5, 10.197561))[0], mode=Mode.SUBTRACT)
    add(cut_extrude2_tool19.solids().sort_by_distance((33, -27.5, 0))[0], mode=Mode.SUBTRACT)
    add(cut_extrude2_tool20.solids().sort_by_distance((31.384865, -27.5, -10.197561))[0], mode=Mode.SUBTRACT)

    # Sketch6 → Cut-Extrude3 (cut, through all)
    with BuildSketch(Plane.XZ.offset(27.5)):
        with Locations((0, 41.5)):
            Circle(SKETCH6_R)
        with Locations((35.940054257, 20.75)):
            Circle(SKETCH6_R)
        with Locations((35.940054257, -20.75)):
            Circle(SKETCH6_R)
        with Locations((0, -41.5)):
            Circle(SKETCH6_R)
        with Locations((-35.940054257, -20.75)):
            Circle(SKETCH6_R)
        with Locations((-35.940054257, 20.75)):
            Circle(SKETCH6_R)
    extrude(amount=-CUT_EXTRUDE3_DEPTH, mode=Mode.SUBTRACT)


solid = part.part
